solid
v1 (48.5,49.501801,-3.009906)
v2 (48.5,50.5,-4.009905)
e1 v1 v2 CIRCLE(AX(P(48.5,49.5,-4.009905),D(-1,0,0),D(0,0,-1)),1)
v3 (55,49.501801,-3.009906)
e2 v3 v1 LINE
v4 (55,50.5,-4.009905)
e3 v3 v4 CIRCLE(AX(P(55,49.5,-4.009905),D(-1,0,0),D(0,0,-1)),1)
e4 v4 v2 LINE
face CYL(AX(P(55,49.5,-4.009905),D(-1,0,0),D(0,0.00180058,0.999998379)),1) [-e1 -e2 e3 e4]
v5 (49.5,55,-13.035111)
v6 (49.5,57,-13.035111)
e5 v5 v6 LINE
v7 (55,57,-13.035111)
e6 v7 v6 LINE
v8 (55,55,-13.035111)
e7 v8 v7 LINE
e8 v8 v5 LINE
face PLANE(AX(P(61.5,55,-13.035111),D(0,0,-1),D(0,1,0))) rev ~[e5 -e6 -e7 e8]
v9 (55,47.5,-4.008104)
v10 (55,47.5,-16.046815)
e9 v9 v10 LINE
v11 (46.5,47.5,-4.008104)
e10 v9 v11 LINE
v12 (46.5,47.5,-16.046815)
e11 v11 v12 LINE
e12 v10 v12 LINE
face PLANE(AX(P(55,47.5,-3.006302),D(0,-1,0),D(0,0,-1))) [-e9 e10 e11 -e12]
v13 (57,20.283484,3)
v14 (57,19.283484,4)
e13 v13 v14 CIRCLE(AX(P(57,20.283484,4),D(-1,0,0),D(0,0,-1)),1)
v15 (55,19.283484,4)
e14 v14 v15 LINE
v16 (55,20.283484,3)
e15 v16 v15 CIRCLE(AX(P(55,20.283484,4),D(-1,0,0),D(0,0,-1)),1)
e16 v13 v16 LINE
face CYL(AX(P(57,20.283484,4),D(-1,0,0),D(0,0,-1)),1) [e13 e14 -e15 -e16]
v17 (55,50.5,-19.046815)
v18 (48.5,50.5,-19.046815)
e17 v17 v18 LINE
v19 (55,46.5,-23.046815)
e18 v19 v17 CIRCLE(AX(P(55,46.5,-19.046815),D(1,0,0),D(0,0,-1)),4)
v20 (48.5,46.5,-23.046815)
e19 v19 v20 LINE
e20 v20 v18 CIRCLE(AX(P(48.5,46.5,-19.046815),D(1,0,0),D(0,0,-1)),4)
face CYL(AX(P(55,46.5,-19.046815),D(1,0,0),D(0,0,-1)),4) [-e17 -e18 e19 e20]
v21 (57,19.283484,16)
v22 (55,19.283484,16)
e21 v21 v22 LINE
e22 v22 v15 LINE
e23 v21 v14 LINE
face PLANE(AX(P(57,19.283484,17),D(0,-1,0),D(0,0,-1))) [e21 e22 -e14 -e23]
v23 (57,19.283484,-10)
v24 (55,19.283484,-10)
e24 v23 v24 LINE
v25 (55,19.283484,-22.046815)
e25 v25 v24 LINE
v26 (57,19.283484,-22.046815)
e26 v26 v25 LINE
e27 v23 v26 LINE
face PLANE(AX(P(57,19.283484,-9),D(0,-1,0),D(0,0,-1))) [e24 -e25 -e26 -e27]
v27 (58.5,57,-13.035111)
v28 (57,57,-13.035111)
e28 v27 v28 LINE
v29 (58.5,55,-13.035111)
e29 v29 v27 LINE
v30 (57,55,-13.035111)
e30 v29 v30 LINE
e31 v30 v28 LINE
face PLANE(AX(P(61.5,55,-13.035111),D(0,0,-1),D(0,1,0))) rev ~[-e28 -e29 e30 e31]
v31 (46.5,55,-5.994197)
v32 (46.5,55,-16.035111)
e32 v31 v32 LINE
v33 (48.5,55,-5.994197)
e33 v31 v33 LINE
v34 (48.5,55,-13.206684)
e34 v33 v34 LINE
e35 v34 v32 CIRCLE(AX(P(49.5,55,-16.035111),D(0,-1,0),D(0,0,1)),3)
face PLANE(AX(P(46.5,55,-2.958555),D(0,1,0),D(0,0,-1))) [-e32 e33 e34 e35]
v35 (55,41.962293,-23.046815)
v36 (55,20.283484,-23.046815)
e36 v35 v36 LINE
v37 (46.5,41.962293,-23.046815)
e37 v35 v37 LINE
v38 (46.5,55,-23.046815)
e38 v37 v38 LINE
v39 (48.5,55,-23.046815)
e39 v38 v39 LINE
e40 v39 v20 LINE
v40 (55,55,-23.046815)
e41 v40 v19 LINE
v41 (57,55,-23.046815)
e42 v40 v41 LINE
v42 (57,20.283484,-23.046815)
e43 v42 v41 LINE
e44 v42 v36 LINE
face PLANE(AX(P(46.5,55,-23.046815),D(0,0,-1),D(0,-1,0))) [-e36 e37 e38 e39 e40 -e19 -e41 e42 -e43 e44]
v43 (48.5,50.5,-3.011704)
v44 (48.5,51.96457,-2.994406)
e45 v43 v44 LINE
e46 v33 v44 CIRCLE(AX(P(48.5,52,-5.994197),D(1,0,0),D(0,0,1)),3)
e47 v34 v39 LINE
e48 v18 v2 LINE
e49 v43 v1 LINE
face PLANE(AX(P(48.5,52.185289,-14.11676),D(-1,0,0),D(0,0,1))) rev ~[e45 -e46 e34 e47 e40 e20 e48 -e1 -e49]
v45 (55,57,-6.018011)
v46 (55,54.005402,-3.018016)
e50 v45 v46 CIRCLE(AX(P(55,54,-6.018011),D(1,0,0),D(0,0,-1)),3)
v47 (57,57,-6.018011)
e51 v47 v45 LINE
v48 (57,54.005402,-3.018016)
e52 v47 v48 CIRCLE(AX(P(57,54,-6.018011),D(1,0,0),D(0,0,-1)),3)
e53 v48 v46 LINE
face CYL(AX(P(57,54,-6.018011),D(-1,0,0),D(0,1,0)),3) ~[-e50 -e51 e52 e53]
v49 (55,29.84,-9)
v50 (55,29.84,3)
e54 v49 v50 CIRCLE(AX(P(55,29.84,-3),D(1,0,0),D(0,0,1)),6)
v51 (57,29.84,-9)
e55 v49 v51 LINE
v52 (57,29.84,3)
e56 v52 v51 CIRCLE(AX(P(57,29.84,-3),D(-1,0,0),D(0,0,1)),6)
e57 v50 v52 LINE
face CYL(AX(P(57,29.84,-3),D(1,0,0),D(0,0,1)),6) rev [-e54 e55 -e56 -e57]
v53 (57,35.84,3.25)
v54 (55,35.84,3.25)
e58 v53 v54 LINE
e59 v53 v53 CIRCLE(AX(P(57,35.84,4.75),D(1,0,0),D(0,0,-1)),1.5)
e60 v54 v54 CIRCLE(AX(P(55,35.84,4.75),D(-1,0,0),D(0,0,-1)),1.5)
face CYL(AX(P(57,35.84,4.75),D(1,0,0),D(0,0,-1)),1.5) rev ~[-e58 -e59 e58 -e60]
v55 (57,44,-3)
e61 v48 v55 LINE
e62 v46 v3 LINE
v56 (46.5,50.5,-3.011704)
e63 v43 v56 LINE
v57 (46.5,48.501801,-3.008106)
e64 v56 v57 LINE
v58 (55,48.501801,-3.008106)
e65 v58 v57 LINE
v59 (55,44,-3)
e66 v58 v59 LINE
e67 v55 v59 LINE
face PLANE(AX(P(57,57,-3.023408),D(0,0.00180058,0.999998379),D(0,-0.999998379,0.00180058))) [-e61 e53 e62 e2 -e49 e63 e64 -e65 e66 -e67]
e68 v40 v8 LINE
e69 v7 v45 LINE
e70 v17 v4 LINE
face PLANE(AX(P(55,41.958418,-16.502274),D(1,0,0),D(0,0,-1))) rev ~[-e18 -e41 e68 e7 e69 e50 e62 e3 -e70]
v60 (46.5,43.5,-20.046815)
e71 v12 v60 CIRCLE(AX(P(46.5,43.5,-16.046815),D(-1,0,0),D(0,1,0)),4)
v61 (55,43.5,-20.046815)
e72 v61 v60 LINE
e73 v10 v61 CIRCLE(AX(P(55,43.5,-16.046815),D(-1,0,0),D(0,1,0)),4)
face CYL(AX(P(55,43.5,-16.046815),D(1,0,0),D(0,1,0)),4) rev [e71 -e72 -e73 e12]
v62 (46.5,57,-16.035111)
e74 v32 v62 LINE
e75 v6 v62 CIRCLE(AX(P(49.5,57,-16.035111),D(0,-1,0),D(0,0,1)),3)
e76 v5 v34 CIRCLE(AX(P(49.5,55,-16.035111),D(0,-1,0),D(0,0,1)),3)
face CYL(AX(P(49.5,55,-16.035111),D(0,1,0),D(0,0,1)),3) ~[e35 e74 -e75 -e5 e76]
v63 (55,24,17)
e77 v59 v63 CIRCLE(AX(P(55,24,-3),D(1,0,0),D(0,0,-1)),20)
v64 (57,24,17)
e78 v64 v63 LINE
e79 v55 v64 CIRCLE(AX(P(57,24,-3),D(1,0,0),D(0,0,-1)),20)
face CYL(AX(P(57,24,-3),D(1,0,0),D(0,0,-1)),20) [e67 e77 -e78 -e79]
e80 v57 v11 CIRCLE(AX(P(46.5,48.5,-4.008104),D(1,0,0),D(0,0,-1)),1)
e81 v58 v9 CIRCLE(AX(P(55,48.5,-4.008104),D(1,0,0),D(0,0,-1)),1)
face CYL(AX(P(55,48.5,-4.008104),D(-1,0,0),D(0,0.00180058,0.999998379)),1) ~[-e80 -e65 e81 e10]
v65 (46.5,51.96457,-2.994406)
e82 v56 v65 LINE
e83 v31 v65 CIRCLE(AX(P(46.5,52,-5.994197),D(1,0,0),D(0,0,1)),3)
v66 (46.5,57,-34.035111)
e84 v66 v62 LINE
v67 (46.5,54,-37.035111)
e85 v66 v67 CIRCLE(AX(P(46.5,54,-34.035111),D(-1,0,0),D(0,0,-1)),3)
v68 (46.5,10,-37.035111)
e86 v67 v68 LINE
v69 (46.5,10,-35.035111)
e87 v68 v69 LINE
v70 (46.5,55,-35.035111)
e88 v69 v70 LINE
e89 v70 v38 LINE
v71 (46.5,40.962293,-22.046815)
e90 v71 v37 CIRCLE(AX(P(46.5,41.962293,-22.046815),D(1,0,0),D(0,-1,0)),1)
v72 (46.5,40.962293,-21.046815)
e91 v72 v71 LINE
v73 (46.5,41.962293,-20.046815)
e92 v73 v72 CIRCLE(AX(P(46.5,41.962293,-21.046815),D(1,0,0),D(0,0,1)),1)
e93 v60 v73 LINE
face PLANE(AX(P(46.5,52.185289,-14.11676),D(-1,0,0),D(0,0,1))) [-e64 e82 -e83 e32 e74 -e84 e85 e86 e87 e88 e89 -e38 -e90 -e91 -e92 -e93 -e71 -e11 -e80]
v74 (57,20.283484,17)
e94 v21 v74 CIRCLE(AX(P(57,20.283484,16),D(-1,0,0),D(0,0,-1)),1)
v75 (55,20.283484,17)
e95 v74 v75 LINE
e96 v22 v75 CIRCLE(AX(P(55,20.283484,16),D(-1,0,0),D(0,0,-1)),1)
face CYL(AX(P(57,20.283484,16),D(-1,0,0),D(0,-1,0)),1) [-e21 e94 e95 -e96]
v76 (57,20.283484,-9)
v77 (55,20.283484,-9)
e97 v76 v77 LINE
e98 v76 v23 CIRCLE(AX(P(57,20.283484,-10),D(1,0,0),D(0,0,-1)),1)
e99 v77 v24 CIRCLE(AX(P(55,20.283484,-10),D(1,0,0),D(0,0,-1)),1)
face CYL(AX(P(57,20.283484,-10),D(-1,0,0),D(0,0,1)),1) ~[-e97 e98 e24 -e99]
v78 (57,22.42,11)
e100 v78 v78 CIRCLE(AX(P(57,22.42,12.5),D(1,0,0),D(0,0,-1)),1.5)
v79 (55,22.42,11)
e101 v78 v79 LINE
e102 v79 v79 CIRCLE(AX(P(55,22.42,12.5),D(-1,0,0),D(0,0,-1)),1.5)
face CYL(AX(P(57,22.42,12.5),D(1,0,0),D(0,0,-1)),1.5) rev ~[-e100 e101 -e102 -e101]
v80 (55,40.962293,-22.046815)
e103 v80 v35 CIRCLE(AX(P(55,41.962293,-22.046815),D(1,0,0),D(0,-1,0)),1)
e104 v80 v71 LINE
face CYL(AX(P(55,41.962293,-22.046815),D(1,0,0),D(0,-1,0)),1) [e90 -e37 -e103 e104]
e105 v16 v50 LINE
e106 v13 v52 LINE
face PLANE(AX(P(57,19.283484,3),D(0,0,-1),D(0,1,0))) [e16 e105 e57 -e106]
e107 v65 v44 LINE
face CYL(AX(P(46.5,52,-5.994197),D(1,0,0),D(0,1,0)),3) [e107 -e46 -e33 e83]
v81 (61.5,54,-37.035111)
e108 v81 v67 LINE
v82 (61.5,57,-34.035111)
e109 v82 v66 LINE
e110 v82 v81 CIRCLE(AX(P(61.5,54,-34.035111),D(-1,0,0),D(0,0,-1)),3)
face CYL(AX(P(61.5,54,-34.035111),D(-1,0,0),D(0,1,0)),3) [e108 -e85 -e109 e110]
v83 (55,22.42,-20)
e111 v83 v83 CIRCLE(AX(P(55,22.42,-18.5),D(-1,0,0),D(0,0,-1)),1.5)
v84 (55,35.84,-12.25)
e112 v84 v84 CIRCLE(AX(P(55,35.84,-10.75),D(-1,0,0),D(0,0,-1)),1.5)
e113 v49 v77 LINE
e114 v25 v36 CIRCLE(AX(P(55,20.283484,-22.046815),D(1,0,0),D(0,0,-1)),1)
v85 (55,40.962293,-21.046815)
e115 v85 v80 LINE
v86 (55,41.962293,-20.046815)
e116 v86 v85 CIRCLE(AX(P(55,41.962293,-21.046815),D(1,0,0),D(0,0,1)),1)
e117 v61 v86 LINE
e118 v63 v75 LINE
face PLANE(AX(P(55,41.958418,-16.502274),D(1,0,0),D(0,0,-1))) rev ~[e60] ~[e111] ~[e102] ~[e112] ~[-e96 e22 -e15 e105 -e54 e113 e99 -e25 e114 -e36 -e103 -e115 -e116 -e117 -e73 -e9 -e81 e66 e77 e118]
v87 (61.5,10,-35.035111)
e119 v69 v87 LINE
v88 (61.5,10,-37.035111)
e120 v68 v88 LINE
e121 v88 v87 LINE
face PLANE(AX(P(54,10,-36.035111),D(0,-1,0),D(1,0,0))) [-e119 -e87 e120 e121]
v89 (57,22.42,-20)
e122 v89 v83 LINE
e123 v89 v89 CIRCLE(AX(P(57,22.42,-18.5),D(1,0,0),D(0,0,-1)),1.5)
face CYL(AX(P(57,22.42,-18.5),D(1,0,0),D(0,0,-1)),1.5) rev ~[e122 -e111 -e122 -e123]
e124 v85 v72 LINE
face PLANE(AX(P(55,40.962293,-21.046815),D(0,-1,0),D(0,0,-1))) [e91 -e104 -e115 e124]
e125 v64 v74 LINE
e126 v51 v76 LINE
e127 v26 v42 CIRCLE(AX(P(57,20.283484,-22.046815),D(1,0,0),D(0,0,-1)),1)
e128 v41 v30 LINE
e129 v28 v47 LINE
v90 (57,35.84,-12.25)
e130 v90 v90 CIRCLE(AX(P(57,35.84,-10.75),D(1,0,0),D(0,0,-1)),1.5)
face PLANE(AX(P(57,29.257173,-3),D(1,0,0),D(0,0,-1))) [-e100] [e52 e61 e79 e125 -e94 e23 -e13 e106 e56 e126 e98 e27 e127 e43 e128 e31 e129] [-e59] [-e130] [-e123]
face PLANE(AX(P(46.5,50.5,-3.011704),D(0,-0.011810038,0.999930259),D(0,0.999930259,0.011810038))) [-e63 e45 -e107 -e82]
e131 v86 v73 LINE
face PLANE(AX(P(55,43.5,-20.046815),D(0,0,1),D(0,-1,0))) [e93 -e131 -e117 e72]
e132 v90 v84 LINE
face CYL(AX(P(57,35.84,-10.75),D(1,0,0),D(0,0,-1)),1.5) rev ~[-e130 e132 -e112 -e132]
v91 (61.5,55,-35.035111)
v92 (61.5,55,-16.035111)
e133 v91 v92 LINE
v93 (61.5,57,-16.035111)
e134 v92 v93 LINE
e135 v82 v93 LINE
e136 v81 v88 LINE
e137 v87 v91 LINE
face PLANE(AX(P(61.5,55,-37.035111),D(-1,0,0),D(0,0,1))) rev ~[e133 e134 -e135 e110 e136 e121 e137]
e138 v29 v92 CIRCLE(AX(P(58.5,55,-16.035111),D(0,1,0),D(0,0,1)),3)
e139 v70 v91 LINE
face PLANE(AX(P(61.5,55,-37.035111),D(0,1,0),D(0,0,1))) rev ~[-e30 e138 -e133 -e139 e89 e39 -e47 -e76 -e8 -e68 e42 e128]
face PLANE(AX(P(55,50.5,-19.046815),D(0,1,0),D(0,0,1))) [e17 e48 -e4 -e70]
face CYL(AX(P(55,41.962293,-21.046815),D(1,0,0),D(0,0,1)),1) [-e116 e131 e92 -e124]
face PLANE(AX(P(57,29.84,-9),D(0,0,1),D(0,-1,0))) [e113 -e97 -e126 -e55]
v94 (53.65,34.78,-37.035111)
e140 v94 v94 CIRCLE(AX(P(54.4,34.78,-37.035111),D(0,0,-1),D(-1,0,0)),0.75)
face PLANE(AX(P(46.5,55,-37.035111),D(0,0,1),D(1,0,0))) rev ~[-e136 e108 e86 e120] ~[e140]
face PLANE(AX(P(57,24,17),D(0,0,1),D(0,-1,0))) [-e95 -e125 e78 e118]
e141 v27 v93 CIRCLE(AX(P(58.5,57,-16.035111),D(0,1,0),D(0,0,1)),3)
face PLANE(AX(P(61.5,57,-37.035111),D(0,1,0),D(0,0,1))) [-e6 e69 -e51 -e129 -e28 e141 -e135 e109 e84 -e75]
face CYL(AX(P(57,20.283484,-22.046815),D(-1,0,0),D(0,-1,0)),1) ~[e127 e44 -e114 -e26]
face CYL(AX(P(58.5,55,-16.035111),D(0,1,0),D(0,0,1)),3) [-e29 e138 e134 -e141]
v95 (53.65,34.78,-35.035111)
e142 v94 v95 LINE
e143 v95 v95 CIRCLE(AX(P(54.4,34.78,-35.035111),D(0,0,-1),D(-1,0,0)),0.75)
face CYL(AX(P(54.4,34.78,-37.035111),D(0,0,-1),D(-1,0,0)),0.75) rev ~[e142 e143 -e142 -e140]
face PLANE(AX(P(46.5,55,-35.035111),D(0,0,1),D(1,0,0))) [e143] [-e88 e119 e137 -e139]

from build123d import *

# Parameters (mm, degrees)
BOSS_EXTRUDE1_DEPTH      = 2
BOSS_EXTRUDE2_DEPTH      = 2
SKETCH3_R                = 6.000000000000001
CUT_EXTRUDE1_DEPTH       = 2
SKETCH4_R                = 1.5000000000000009
SKETCH4_R_2              = 1.5000000000000042
CUT_EXTRUDE2_DEPTH       = 3
SKETCH5_R                = 1.5000000000000004
SKETCH5_R_2              = 1.5000000000000042
CUT_EXTRUDE3_DEPTH       = 3
CUT_EXTRUDE4_DEPTH       = 3
CUT_EXTRUDE5_DEPTH       = 3
CUT_EXTRUDE6_DEPTH       = 3
SKETCH9_R                = 1.5000000000000042
CUT_EXTRUDE8_DEPTH       = 3
SKETCH10_R               = 1.5000000000000042
CUT_EXTRUDE9_DEPTH       = 3
CUT_EXTRUDE10_DEPTH      = 240.38671642344738
CUT_EXTRUDE10_DEPTH_BACK = 240.38671642344738
SKETCH12_R               = 1.4999999999999998
SKETCH12_R_2             = 1.5000000000000002
SKETCH12_R_3             = 1.5000000000000013
SKETCH12_R_4             = 1.5
SKETCH12_R_5             = 1.5000000000000009
BOSS_EXTRUDE7_START      = 2
SKETCH13_R               = 1.5000000000000009
SKETCH13_R_2             = 1.5000000000000024
BOSS_EXTRUDE7_DEPTH      = 2
BOSS_EXTRUDE8_START      = -6.5
SKETCH14_W               = 24
SKETCH14_H               = 2
BOSS_EXTRUDE8_DEPTH      = 15
SKETCH15_W               = 15.000000000000007
SKETCH15_H               = 2
BOSS_EXTRUDE9_DEPTH      = 45
CUT_EXTRUDE11_DEPTH      = 243.1136096959442
SKETCH17_W               = 185.56969898313426
SKETCH17_H               = 96.24266996951368
CUT_EXTRUDE13_DEPTH      = 211.18448651258493
SKETCH18_R               = 1.5000000000000042
CUT_EXTRUDE14_DEPTH      = 10
BOSS_EXTRUDE10_DEPTH     = 8.5
FILLET1_R                = 3
FILLET2_R                = 3
FILLET3_R                = 3
SKETCH21_W               = 15.000000000000007
SKETCH21_H               = 44.000000000000014
SKETCH21_R               = 0.7499999999999987
BOSS_EXTRUDE11_DEPTH     = 2
BOSS_EXTRUDE12_DEPTH     = 2
FILLET4_R                = 3
FILLET5_R                = 1
FILLET6_R                = 1


with BuildPart() as part:
    # Sketch1 → Boss-Extrude1 (new body)
    with BuildSketch(Plane(origin=(0, 0, 0), x_dir=(1, 0, 0), z_dir=(0, 1, 0))):
        Polygon((55, -26.999999999999986), (55, 27.00000000000001), (-55, 26.999999999999996), (-55, -27), (-38.49999999999998, -134.00000000000006), (38.50000000000002, -134.00000000000003), align=None)
        Polygon((64.00000000000001, -159.00000000000003), (-63.99999999999996, -159.00000000000003), (-63.999999999999986, -134.00000000000006), (64, -134.00000000000003), align=None)
        Polygon((31.00000000000004, -159.00000000000006), (-30.99999999999999, -159.00000000000006), (-30.999999999999982, -172.00000000000006), (31.000000000000018, -172.00000000000006), align=None)
        Polygon((64.00000000000006, -172.00000000000003), (-64, -172.00000000000006), (-63.999999999999986, -203), (64.00000000000001, -203.00000000000003), align=None)
    extrude(amount=BOSS_EXTRUDE1_DEPTH)

    # Sketch2 → Boss-Extrude2 (add)
    with BuildSketch(Plane.ZY.offset(55)):
        with BuildLine():
            ThreePointArc((-22.999999999999996, 24), (-2.999999999999998, 44), (16.999999999999996, 24))
            Line((16.999999999999996, 24), (-22.999999999999996, 24))
        make_face()
        Polygon((-22.999999999999996, 24), (-22.999999999999996, 2.000000000000001), (17.000000000000004, 2.0000000000000053), (17.000000000000004, 24), align=None)
    boss_extrude2 = extrude(amount=-BOSS_EXTRUDE2_DEPTH)

    # Sketch3 → Cut-Extrude1 (cut)
    with BuildSketch(Plane.ZY.offset(55)):
        with Locations((-2.9999999999999956, 16)):
            Circle(SKETCH3_R)
    cut_extrude1 = extrude(amount=-CUT_EXTRUDE1_DEPTH, mode=Mode.SUBTRACT)

    # Mirror1: Boss-Extrude2 across plane
    add(boss_extrude2.mirror(Plane(origin=(0, 0, 0), x_dir=(0, 0, 1), z_dir=(1, 0, 0))))

    # Mirror2: Cut-Extrude1 across plane
    add(cut_extrude1.mirror(Plane(origin=(0, 0, 0), x_dir=(0, 0, 1), z_dir=(1, 0, 0))), mode=Mode.SUBTRACT)

    # Sketch4 → Cut-Extrude2 (cut)
    with BuildSketch(Plane(origin=(0, 2, 0), x_dir=(1, 0, 0), z_dir=(0, 1, 0))):
        with Locations(Location((-31.999999999999993, -32.999999999999986, 0), (0, 0, 270))):
            Circle(SKETCH4_R)
        with Locations(Location((-31.999999999999993, -103.00000000000001, 0), (0, 0, 270))):
            Circle(SKETCH4_R)
        with Locations(Location((32.00000000000001, -103, 0), (0, 0, 270))):
            Circle(SKETCH4_R_2)
        with Locations(Location((32.00000000000001, -32.999999999999964, 0), (0, 0, 270))):
            Circle(SKETCH4_R_2)
    extrude(amount=-CUT_EXTRUDE2_DEPTH, mode=Mode.SUBTRACT)

    # Sketch5 → Cut-Extrude3 (cut)
    with BuildSketch(Plane(origin=(0, 2, 0), x_dir=(1, 0, 0), z_dir=(0, 1, 0))):
        with Locations(Location((0, -196, 0), (0, 0, 270))):
            Circle(SKETCH5_R)
        with Locations(Location((-42, -196, 0), (0, 0, 270))):
            Circle(SKETCH5_R_2)
        with Locations(Location((42, -195.99999999999997, 0), (0, 0, 270))):
            Circle(SKETCH5_R_2)
    extrude(amount=-CUT_EXTRUDE3_DEPTH, mode=Mode.SUBTRACT)

    # Sketch6 → Cut-Extrude4 (cut)
    with BuildSketch(Plane(origin=(0, 2, 0), x_dir=(1, 0, 0), z_dir=(0, 1, 0))):
        with BuildLine():
            Line((-39, -172.00000000000006), (-39, -178.99999999999997))
            ThreePointArc((-39, -178.99999999999997), (-41.92893218813453, -186.0710678118655), (-49.00000000000007, -189.00000000000003))
            Line((-49.00000000000007, -189.00000000000003), (-63.999999999999986, -189.00000000000003))
            Line((-63.999999999999986, -189.00000000000003), (-64, -172.00000000000009))
            Line((-64, -172.00000000000009), (-39, -172.00000000000006))
        make_face()
        with BuildLine():
            Line((64, -172.00000000000009), (39, -172.00000000000009))
            Line((39, -172.00000000000009), (39, -179))
            ThreePointArc((39, -179), (41.928932188134524, -186.07106781186553), (49.00000000000007, -189.00000000000003))
            Line((49.00000000000007, -189.00000000000003), (63.999999999999986, -189.00000000000003))
            Line((63.999999999999986, -189.00000000000003), (64, -172.00000000000009))
        make_face()
    extrude(amount=-CUT_EXTRUDE4_DEPTH, mode=Mode.SUBTRACT)

    # Sketch7 → Cut-Extrude5 (cut)
    with BuildSketch(Plane(origin=(0, 2, 0), x_dir=(1, 0, 0), z_dir=(0, 1, 0))):
        with BuildLine():
            Line((-63.999999999999986, -203), (-50.09999999999989, -203))
            ThreePointArc((-50.09999999999989, -203), (-59.92878425849301, -198.92878425849304), (-63.99999999999999, -189.0999999999999))
            Line((-63.999999999999986, -189.0999999999999), (-63.999999999999986, -203))
        make_face()
        with BuildLine():
            ThreePointArc((64.00000000000001, -189.09999999999988), (59.92878425849304, -198.928784258493), (50.099999999999916, -203))
            Line((50.099999999999916, -203), (64.00000000000001, -203))
            Line((64.00000000000001, -203), (64.00000000000001, -189.09999999999988))
        make_face()
    extrude(amount=-CUT_EXTRUDE5_DEPTH, mode=Mode.SUBTRACT)

    # Sketch8 → Cut-Extrude6 (cut)
    with BuildSketch(Plane(origin=(0, 2, 0), x_dir=(1, 0, 0), z_dir=(0, 1, 0))):
        with BuildLine():
            Line((-31.149343986878943, -172.00000000000006), (-39, -172.00000000000006))
            Line((-39, -172.00000000000006), (-38.99999999999999, -178.99999999999997))
            ThreePointArc((-39, -178.99999999999997), (-39.00000430772996, -179.009281949184), (-39.00001723091613, -179.01856389037115))
            ThreePointArc((-39.00001723091618, -179.01856389037115), (-36.414638600380236, -174.01046074526764), (-31.149343986878943, -172.00000000000006))
        make_face()
        with BuildLine():
            Line((39, -179), (39, -172.00000000000009))
            Line((39.00000000000004, -172), (31.149343986878986, -172))
            ThreePointArc((31.149343986878986, -172), (36.41463860038014, -174.01046074526744), (39.00001723091619, -179.01856389037067))
            ThreePointArc((39.00001723091614, -179.01856389037067), (39.000004307729974, -179.00928194918376), (39.000000000000014, -179))
        make_face()
    extrude(amount=-CUT_EXTRUDE6_DEPTH, mode=Mode.SUBTRACT)

    # Sketch9 → Cut-Extrude8 (cut)
    with BuildSketch(Plane(origin=(0, 2, 0), x_dir=(1, 0, 0), z_dir=(0, 1, 0))):
        with BuildLine():
            Line((-65.7442014947963, -159.00000000000003), (-38.49999999999998, -159.00000000000003))
            Line((-38.49999999999998, -159.00000000000003), (-58.499999999999986, -153.64101615137747))
            ThreePointArc((-58.499999999999986, -153.64101615137747), (-63.97949441454555, -146.5), (-58.49999999999998, -139.35898384862253))
            Line((-58.49999999999998, -139.3589838486225), (-38.49999999999998, -134.00000000000009))
            Line((-38.49999999999998, -134.00000000000009), (-65.7442014947963, -134.00000000000009))
            Line((-65.7442014947963, -134.00000000000009), (-65.7442014947963, -159.00000000000003))
        make_face()
        with BuildLine():
            Line((38.49999999999998, -159.00000000000003), (65.55068988792617, -159.00000000000003))
            Line((65.55068988792617, -159.00000000000003), (65.55068988792617, -134.00000000000009))
            Line((65.55068988792617, -134.00000000000009), (38.49999999999998, -134.00000000000009))
            Line((38.49999999999998, -134.00000000000009), (58.49999999999998, -139.3589838486225))
            ThreePointArc((58.49999999999998, -139.35898384862253), (63.97949441454555, -146.5), (58.499999999999986, -153.64101615137747))
            Line((58.499999999999986, -153.64101615137747), (38.49999999999998, -159.00000000000003))
        make_face()
        with Locations(Location((-58.97949441454556, -146.5, 0), (0, 0, 270))):
            Circle(SKETCH9_R)
        with Locations(Location((-43.97949441454556, -140.5, 0), (0, 0, 270))):
            Circle(SKETCH9_R)
        with Locations(Location((-43.979494414545556, -152.5, 0), (0, 0, 270))):
            Circle(SKETCH9_R)
        with Locations(Location((43.979494414545556, -152.5, 0), (0, 0, 270))):
            Circle(SKETCH9_R)
        with Locations(Location((43.97949441454556, -140.5, 0), (0, 0, 270))):
            Circle(SKETCH9_R)
        with Locations(Location((58.97949441454556, -146.5, 0), (0, 0, 270))):
            Circle(SKETCH9_R)
    extrude(amount=-CUT_EXTRUDE8_DEPTH, mode=Mode.SUBTRACT)

    # Sketch10 → Cut-Extrude9 (cut)
    with BuildSketch(Plane(origin=(0, 2, 0), x_dir=(1, 0, 0), z_dir=(0, 1, 0))):
        with Locations(Location((-13.999999999999984, -122.97951269366077, 0), (0, 0, 270))):
            Circle(SKETCH10_R)
        with Locations(Location((-13.99999999999998, -132.97951269366075, 0), (0, 0, 270))):
            Circle(SKETCH10_R)
        with Locations(Location((34.000000000000014, -122.97951269366077, 0), (0, 0, 270))):
            Circle(SKETCH10_R)
        with Locations(Location((34.000000000000014, -132.97951269366075, 0), (0, 0, 270))):
            Circle(SKETCH10_R)
    extrude(amount=-CUT_EXTRUDE9_DEPTH, mode=Mode.SUBTRACT)

    # Sketch12 → Cut-Extrude10 (cut, two sides: drawn at the far end of the back side and taken through both)
    with BuildSketch(Plane(origin=(55, 0, 0), x_dir=(0, 0, -1), z_dir=(1, 0, 0)).offset(-CUT_EXTRUDE10_DEPTH_BACK)):
        with Locations((-4.750000000000004, 9.000000000000002)):
            Circle(SKETCH12_R)
        with Locations((10.749999999999996, 9.000000000000007)):
            Circle(SKETCH12_R_2)
        with BuildLine():
            ThreePointArc((8.999999999999975, 29.840000000000014), (2.9999999999999827, 35.83999999999998), (-3.000000000000003, 29.840000000000007))
            Line((-3.000000000000004, 29.840000000000007), (-3.0000000000000053, 16))
            ThreePointArc((-3.000000000000004, 16), (2.9999999999999964, 10), (8.999999999999998, 16))
            Line((8.999999999999998, 16), (8.999999999999973, 29.840000000000014))
        make_face()
        with Locations((-4.750000000000004, 35.84)):
            Circle(SKETCH12_R_3)
        with Locations((10.749999999999996, 35.84000000000001)):
            Circle(SKETCH12_R_4)
        with Locations((-12.500000000000004, 22.42)):
            Circle(SKETCH12_R_5)
        with Locations((18.499999999999996, 22.42000000000001)):
            Circle(SKETCH12_R_5)
    extrude(amount=CUT_EXTRUDE10_DEPTH + CUT_EXTRUDE10_DEPTH_BACK, mode=Mode.SUBTRACT)

    # Sketch13 → Boss-Extrude7 (add)
    # profile 1 of 2: a face of its own
    with BuildSketch(Plane(origin=(55, 0, 0), x_dir=(0, 0, -1), z_dir=(1, 0, 0)).offset(BOSS_EXTRUDE7_START)):
        with BuildLine():
            Line((-17.000000000000004, 24), (-17.000000000000004, 19.28348423041724))
            Line((-17.000000000000004, 19.28348423041724), (-3.0000000000000053, 19.28348423041724))
            Line((-3.000000000000005, 19.28348423041724), (-3.000000000000004, 29.840000000000007))
            ThreePointArc((-3.000000000000006, 29.840000000000007), (2.9999999999999787, 35.84), (8.999999999999972, 29.840000000000014))
            Line((8.999999999999973, 29.840000000000014), (8.999999999999993, 19.28348423041724))
            Line((8.999999999999993, 19.28348423041724), (22.999999999999996, 19.283484230417237))
            Line((22.999999999999996, 19.283484230417237), (22.999999999999996, 24))
            ThreePointArc((22.999999999999996, 24), (17.142135623730947, 38.14213562373095), (2.999999999999998, 44))
            ThreePointArc((2.999999999999998, 44), (-11.142135623730953, 38.14213562373095), (-17.000000000000004, 24.000000000000004))
        make_face()
        with Locations((-12.500000000000004, 22.42)):
            Circle(SKETCH13_R, mode=Mode.SUBTRACT)
        with Locations((18.499999999999996, 22.42000000000001)):
            Circle(SKETCH13_R, mode=Mode.SUBTRACT)
        with Locations((-4.750000000000004, 35.84)):
            Circle(SKETCH13_R, mode=Mode.SUBTRACT)
        with Locations((10.749999999999996, 35.84000000000001)):
            Circle(SKETCH13_R_2, mode=Mode.SUBTRACT)
    # profile 2 of 2: a face of its own
    with BuildSketch(Plane(origin=(55, 0, 0), x_dir=(0, 0, -1), z_dir=(1, 0, 0)).offset(BOSS_EXTRUDE7_START)):
        with BuildLine():
            Line((22.999999999999996, 24), (22.999999999999996, 19.283484230417237))
            Line((22.999999999999996, 19.283484230417237), (23.046815154055327, 19.283484230417237))
            Line((23.046815154055327, 19.283484230417237), (23.04681515405532, 57))
            Line((23.04681515405532, 57), (3.0234075770276583, 57))
            Line((3.023407577027657, 57), (2.999999999999997, 44))
            ThreePointArc((2.999999999999998, 44), (17.142135623730947, 38.14213562373095), (22.999999999999996, 24))
        make_face()
    extrude(amount=-BOSS_EXTRUDE7_DEPTH)

    # Sketch14 → Boss-Extrude8 (add)
    with BuildSketch(Plane.ZY.offset(-55).offset(BOSS_EXTRUDE8_START)):
        with Locations((-25.03511136554149, 56.00000000000001)):
            Rectangle(SKETCH14_W, SKETCH14_H)
    extrude(amount=BOSS_EXTRUDE8_DEPTH)

    # Sketch15 → Boss-Extrude9 (add)
    with BuildSketch(Plane.XZ.offset(-55)):
        with Locations((54, -36.03511136554149)):
            Rectangle(SKETCH15_W, SKETCH15_H)
    extrude(amount=BOSS_EXTRUDE9_DEPTH)

    # Sketch16 → Cut-Extrude11 (cut, through all)
    with BuildSketch(Plane.ZY.offset(-55)):
        Polygon((-35.92021187003197, 46.46920068706199), (-36.717575013579555, -14.58603430458196), (219.6312484084681, -17.93387341643705), (219.6312484084681, 46.469200687062), align=None)
    extrude(amount=CUT_EXTRUDE11_DEPTH, mode=Mode.SUBTRACT)


with BuildPart() as cut_extrude11_piece_1:
    # of the separate pieces the step leaves, piece 1, a body of its own (cut_extrude11_pieces)
    add(part.part.solids().sort_by_distance((57, 19.28348423, -9))[0])

    # Sketch18 → Cut-Extrude14 (cut)
    with BuildSketch(Plane(origin=(0, 0, -37.03511136554149), x_dir=(-1, 0, 0), z_dir=(0, 0, -1))):
        with Locations((-54.4, 34.78000000000001)):
            Circle(SKETCH18_R)
    extrude(amount=-CUT_EXTRUDE14_DEPTH, mode=Mode.SUBTRACT)

    # Sketch19 → Boss-Extrude10 (add)
    with BuildSketch(Plane.ZY.offset(-55)):
        with BuildLine():
            Line((-3.0117037885138274, 50.5), (-3.006302039968982, 47.5))
            Line((-3.006302039968982, 47.5), (-16.04681515405532, 47.50000000000001))
            ThreePointArc((-16.04681515405532, 47.50000000000001), (-18.875242278801508, 46.32842712474619), (-20.04681515405532, 43.5))
            Line((-20.04681515405532, 43.5), (-20.04681515405532, 41.96229343982267))
            ThreePointArc((-20.04681515405532, 41.96229343982267), (-20.339708372868774, 41.25518665863612), (-21.046815154055327, 40.962293439822666))
            Line((-21.046815154055327, 40.962293439822666), (-22.046815154055313, 40.962293439822666))
            ThreePointArc((-22.046815154055313, 40.962293439822666), (-22.75392193524187, 41.25518665863611), (-23.046815154055324, 41.96229343982267))
            Line((-23.046815154055324, 41.96229343982267), (-23.046815154055317, 46.5))
            ThreePointArc((-23.046815154055317, 46.5), (-21.875242278801515, 49.3284271247462), (-19.04681515405532, 50.50000000000001))
            Line((-19.04681515405532, 50.50000000000001), (-3.0117037885138274, 50.5))
        make_face()
    extrude(amount=BOSS_EXTRUDE10_DEPTH)

    # Fillet1
    fillet1_edges = [cut_extrude11_piece_1.edges().sort_by_distance(p)[0] for p in [
        (56, 57, -3.0234075770276574),
    ]]
    fillet(fillet1_edges, radius=FILLET1_R)

    # Fillet2
    fillet2_edges = [cut_extrude11_piece_1.edges().sort_by_distance(p)[0] for p in [
        (61.5, 56, -13.035111365541487),
        (46.5, 56, -13.035111365541487),
    ]]
    fillet(fillet2_edges, radius=FILLET2_R)

    # Fillet3
    fillet3_edges = [cut_extrude11_piece_1.edges().sort_by_distance(p)[0] for p in [
        (54, 57.00000000000001, -37.03511136554149),
    ]]
    fillet(fillet3_edges, radius=FILLET3_R)

    # Sketch21 → Boss-Extrude11 (add)
    with BuildSketch(Plane(origin=(0, 0, -37.03511136554149), x_dir=(-1, 0, 0), z_dir=(0, 0, -1))):
        with Locations((-54, 32)):
            Rectangle(SKETCH21_W, SKETCH21_H)
        with Locations((-54.4, 34.78000000000001)):
            Circle(SKETCH21_R, mode=Mode.SUBTRACT)
    extrude(amount=-BOSS_EXTRUDE11_DEPTH)

    # Sketch22 → Boss-Extrude12 (add)
    with BuildSketch(Plane.ZY.offset(-46.5)):
        with BuildLine():
            Line((-16.035111365541486, 55), (-23.04681515405532, 55))
            Line((-23.04681515405532, 55), (-23.046815154055324, 46.5))
            ThreePointArc((-23.046815154055317, 46.5), (-21.875242278801515, 49.3284271247462), (-19.04681515405532, 50.50000000000001))
            Line((-19.04681515405532, 50.50000000000001), (-3.0117037885138274, 50.5))
            Line((-3.0117037885138274, 50.5), (-2.958554912067868, 55))
            Line((-2.958554912067868, 55), (-16.035111365541486, 55))
        make_face()
    extrude(amount=-BOSS_EXTRUDE12_DEPTH)

    # Fillet4
    fillet4_edges = [cut_extrude11_piece_1.edges().sort_by_distance(p)[0] for p in [
        (47.5, 55, -2.958554912067868),
    ]]
    fillet(fillet4_edges, radius=FILLET4_R)

    # Fillet5
    fillet5_edges = [cut_extrude11_piece_1.edges().sort_by_distance(p)[0] for p in [
        (51.75, 50.5, -3.0117037885138274),
        (50.75, 47.5, -3.006302039968982),
    ]]
    fillet(fillet5_edges, radius=FILLET5_R)

    # Fillet6
    fillet6_edges = [cut_extrude11_piece_1.edges().sort_by_distance(p)[0] for p in [
        (56, 19.283484230417237, -23.046815154055327),
        (56, 19.28348423041724, -8.999999999999993),
        (56, 19.28348423041724, 17.000000000000004),
        (56, 19.28348423041724, 3.0000000000000053),
    ]]
    fillet(fillet6_edges, radius=FILLET6_R)


with BuildPart() as cut_extrude11_piece_2:
    # of the separate pieces the step leaves, piece 2, a body of its own (cut_extrude11_pieces)
    add(part.part.solids().sort_by_distance((55, 0, 138.421161675))[0])


with BuildPart() as cut_extrude11_piece_3:
    # of the separate pieces the step leaves, piece 3, a body of its own (cut_extrude11_pieces)
    add(part.part.solids().sort_by_distance((55, 0, 189))[0])


with BuildPart() as cut_extrude13_tool:
    # Sketch17 → Cut-Extrude13 (new, through all)
    with BuildSketch(Plane.ZY.offset(-55)):
        with Locations((121.69980384064316, 40.02606825982201)):
            Rectangle(SKETCH17_W, SKETCH17_H)
    extrude(amount=-CUT_EXTRUDE13_DEPTH)


with BuildPart() as cut_extrude11_piece_2_1:
    add(cut_extrude11_piece_2.part)

    # Cut-Extrude13: cut by cut_extrude13_tool
    add(cut_extrude13_tool.part, mode=Mode.SUBTRACT)


with BuildPart() as cut_extrude11_piece_3_1:
    add(cut_extrude11_piece_3.part)

    # Cut-Extrude13: cut by cut_extrude13_tool
    add(cut_extrude13_tool.part, mode=Mode.SUBTRACT)


solid = cut_extrude11_piece_1.part
